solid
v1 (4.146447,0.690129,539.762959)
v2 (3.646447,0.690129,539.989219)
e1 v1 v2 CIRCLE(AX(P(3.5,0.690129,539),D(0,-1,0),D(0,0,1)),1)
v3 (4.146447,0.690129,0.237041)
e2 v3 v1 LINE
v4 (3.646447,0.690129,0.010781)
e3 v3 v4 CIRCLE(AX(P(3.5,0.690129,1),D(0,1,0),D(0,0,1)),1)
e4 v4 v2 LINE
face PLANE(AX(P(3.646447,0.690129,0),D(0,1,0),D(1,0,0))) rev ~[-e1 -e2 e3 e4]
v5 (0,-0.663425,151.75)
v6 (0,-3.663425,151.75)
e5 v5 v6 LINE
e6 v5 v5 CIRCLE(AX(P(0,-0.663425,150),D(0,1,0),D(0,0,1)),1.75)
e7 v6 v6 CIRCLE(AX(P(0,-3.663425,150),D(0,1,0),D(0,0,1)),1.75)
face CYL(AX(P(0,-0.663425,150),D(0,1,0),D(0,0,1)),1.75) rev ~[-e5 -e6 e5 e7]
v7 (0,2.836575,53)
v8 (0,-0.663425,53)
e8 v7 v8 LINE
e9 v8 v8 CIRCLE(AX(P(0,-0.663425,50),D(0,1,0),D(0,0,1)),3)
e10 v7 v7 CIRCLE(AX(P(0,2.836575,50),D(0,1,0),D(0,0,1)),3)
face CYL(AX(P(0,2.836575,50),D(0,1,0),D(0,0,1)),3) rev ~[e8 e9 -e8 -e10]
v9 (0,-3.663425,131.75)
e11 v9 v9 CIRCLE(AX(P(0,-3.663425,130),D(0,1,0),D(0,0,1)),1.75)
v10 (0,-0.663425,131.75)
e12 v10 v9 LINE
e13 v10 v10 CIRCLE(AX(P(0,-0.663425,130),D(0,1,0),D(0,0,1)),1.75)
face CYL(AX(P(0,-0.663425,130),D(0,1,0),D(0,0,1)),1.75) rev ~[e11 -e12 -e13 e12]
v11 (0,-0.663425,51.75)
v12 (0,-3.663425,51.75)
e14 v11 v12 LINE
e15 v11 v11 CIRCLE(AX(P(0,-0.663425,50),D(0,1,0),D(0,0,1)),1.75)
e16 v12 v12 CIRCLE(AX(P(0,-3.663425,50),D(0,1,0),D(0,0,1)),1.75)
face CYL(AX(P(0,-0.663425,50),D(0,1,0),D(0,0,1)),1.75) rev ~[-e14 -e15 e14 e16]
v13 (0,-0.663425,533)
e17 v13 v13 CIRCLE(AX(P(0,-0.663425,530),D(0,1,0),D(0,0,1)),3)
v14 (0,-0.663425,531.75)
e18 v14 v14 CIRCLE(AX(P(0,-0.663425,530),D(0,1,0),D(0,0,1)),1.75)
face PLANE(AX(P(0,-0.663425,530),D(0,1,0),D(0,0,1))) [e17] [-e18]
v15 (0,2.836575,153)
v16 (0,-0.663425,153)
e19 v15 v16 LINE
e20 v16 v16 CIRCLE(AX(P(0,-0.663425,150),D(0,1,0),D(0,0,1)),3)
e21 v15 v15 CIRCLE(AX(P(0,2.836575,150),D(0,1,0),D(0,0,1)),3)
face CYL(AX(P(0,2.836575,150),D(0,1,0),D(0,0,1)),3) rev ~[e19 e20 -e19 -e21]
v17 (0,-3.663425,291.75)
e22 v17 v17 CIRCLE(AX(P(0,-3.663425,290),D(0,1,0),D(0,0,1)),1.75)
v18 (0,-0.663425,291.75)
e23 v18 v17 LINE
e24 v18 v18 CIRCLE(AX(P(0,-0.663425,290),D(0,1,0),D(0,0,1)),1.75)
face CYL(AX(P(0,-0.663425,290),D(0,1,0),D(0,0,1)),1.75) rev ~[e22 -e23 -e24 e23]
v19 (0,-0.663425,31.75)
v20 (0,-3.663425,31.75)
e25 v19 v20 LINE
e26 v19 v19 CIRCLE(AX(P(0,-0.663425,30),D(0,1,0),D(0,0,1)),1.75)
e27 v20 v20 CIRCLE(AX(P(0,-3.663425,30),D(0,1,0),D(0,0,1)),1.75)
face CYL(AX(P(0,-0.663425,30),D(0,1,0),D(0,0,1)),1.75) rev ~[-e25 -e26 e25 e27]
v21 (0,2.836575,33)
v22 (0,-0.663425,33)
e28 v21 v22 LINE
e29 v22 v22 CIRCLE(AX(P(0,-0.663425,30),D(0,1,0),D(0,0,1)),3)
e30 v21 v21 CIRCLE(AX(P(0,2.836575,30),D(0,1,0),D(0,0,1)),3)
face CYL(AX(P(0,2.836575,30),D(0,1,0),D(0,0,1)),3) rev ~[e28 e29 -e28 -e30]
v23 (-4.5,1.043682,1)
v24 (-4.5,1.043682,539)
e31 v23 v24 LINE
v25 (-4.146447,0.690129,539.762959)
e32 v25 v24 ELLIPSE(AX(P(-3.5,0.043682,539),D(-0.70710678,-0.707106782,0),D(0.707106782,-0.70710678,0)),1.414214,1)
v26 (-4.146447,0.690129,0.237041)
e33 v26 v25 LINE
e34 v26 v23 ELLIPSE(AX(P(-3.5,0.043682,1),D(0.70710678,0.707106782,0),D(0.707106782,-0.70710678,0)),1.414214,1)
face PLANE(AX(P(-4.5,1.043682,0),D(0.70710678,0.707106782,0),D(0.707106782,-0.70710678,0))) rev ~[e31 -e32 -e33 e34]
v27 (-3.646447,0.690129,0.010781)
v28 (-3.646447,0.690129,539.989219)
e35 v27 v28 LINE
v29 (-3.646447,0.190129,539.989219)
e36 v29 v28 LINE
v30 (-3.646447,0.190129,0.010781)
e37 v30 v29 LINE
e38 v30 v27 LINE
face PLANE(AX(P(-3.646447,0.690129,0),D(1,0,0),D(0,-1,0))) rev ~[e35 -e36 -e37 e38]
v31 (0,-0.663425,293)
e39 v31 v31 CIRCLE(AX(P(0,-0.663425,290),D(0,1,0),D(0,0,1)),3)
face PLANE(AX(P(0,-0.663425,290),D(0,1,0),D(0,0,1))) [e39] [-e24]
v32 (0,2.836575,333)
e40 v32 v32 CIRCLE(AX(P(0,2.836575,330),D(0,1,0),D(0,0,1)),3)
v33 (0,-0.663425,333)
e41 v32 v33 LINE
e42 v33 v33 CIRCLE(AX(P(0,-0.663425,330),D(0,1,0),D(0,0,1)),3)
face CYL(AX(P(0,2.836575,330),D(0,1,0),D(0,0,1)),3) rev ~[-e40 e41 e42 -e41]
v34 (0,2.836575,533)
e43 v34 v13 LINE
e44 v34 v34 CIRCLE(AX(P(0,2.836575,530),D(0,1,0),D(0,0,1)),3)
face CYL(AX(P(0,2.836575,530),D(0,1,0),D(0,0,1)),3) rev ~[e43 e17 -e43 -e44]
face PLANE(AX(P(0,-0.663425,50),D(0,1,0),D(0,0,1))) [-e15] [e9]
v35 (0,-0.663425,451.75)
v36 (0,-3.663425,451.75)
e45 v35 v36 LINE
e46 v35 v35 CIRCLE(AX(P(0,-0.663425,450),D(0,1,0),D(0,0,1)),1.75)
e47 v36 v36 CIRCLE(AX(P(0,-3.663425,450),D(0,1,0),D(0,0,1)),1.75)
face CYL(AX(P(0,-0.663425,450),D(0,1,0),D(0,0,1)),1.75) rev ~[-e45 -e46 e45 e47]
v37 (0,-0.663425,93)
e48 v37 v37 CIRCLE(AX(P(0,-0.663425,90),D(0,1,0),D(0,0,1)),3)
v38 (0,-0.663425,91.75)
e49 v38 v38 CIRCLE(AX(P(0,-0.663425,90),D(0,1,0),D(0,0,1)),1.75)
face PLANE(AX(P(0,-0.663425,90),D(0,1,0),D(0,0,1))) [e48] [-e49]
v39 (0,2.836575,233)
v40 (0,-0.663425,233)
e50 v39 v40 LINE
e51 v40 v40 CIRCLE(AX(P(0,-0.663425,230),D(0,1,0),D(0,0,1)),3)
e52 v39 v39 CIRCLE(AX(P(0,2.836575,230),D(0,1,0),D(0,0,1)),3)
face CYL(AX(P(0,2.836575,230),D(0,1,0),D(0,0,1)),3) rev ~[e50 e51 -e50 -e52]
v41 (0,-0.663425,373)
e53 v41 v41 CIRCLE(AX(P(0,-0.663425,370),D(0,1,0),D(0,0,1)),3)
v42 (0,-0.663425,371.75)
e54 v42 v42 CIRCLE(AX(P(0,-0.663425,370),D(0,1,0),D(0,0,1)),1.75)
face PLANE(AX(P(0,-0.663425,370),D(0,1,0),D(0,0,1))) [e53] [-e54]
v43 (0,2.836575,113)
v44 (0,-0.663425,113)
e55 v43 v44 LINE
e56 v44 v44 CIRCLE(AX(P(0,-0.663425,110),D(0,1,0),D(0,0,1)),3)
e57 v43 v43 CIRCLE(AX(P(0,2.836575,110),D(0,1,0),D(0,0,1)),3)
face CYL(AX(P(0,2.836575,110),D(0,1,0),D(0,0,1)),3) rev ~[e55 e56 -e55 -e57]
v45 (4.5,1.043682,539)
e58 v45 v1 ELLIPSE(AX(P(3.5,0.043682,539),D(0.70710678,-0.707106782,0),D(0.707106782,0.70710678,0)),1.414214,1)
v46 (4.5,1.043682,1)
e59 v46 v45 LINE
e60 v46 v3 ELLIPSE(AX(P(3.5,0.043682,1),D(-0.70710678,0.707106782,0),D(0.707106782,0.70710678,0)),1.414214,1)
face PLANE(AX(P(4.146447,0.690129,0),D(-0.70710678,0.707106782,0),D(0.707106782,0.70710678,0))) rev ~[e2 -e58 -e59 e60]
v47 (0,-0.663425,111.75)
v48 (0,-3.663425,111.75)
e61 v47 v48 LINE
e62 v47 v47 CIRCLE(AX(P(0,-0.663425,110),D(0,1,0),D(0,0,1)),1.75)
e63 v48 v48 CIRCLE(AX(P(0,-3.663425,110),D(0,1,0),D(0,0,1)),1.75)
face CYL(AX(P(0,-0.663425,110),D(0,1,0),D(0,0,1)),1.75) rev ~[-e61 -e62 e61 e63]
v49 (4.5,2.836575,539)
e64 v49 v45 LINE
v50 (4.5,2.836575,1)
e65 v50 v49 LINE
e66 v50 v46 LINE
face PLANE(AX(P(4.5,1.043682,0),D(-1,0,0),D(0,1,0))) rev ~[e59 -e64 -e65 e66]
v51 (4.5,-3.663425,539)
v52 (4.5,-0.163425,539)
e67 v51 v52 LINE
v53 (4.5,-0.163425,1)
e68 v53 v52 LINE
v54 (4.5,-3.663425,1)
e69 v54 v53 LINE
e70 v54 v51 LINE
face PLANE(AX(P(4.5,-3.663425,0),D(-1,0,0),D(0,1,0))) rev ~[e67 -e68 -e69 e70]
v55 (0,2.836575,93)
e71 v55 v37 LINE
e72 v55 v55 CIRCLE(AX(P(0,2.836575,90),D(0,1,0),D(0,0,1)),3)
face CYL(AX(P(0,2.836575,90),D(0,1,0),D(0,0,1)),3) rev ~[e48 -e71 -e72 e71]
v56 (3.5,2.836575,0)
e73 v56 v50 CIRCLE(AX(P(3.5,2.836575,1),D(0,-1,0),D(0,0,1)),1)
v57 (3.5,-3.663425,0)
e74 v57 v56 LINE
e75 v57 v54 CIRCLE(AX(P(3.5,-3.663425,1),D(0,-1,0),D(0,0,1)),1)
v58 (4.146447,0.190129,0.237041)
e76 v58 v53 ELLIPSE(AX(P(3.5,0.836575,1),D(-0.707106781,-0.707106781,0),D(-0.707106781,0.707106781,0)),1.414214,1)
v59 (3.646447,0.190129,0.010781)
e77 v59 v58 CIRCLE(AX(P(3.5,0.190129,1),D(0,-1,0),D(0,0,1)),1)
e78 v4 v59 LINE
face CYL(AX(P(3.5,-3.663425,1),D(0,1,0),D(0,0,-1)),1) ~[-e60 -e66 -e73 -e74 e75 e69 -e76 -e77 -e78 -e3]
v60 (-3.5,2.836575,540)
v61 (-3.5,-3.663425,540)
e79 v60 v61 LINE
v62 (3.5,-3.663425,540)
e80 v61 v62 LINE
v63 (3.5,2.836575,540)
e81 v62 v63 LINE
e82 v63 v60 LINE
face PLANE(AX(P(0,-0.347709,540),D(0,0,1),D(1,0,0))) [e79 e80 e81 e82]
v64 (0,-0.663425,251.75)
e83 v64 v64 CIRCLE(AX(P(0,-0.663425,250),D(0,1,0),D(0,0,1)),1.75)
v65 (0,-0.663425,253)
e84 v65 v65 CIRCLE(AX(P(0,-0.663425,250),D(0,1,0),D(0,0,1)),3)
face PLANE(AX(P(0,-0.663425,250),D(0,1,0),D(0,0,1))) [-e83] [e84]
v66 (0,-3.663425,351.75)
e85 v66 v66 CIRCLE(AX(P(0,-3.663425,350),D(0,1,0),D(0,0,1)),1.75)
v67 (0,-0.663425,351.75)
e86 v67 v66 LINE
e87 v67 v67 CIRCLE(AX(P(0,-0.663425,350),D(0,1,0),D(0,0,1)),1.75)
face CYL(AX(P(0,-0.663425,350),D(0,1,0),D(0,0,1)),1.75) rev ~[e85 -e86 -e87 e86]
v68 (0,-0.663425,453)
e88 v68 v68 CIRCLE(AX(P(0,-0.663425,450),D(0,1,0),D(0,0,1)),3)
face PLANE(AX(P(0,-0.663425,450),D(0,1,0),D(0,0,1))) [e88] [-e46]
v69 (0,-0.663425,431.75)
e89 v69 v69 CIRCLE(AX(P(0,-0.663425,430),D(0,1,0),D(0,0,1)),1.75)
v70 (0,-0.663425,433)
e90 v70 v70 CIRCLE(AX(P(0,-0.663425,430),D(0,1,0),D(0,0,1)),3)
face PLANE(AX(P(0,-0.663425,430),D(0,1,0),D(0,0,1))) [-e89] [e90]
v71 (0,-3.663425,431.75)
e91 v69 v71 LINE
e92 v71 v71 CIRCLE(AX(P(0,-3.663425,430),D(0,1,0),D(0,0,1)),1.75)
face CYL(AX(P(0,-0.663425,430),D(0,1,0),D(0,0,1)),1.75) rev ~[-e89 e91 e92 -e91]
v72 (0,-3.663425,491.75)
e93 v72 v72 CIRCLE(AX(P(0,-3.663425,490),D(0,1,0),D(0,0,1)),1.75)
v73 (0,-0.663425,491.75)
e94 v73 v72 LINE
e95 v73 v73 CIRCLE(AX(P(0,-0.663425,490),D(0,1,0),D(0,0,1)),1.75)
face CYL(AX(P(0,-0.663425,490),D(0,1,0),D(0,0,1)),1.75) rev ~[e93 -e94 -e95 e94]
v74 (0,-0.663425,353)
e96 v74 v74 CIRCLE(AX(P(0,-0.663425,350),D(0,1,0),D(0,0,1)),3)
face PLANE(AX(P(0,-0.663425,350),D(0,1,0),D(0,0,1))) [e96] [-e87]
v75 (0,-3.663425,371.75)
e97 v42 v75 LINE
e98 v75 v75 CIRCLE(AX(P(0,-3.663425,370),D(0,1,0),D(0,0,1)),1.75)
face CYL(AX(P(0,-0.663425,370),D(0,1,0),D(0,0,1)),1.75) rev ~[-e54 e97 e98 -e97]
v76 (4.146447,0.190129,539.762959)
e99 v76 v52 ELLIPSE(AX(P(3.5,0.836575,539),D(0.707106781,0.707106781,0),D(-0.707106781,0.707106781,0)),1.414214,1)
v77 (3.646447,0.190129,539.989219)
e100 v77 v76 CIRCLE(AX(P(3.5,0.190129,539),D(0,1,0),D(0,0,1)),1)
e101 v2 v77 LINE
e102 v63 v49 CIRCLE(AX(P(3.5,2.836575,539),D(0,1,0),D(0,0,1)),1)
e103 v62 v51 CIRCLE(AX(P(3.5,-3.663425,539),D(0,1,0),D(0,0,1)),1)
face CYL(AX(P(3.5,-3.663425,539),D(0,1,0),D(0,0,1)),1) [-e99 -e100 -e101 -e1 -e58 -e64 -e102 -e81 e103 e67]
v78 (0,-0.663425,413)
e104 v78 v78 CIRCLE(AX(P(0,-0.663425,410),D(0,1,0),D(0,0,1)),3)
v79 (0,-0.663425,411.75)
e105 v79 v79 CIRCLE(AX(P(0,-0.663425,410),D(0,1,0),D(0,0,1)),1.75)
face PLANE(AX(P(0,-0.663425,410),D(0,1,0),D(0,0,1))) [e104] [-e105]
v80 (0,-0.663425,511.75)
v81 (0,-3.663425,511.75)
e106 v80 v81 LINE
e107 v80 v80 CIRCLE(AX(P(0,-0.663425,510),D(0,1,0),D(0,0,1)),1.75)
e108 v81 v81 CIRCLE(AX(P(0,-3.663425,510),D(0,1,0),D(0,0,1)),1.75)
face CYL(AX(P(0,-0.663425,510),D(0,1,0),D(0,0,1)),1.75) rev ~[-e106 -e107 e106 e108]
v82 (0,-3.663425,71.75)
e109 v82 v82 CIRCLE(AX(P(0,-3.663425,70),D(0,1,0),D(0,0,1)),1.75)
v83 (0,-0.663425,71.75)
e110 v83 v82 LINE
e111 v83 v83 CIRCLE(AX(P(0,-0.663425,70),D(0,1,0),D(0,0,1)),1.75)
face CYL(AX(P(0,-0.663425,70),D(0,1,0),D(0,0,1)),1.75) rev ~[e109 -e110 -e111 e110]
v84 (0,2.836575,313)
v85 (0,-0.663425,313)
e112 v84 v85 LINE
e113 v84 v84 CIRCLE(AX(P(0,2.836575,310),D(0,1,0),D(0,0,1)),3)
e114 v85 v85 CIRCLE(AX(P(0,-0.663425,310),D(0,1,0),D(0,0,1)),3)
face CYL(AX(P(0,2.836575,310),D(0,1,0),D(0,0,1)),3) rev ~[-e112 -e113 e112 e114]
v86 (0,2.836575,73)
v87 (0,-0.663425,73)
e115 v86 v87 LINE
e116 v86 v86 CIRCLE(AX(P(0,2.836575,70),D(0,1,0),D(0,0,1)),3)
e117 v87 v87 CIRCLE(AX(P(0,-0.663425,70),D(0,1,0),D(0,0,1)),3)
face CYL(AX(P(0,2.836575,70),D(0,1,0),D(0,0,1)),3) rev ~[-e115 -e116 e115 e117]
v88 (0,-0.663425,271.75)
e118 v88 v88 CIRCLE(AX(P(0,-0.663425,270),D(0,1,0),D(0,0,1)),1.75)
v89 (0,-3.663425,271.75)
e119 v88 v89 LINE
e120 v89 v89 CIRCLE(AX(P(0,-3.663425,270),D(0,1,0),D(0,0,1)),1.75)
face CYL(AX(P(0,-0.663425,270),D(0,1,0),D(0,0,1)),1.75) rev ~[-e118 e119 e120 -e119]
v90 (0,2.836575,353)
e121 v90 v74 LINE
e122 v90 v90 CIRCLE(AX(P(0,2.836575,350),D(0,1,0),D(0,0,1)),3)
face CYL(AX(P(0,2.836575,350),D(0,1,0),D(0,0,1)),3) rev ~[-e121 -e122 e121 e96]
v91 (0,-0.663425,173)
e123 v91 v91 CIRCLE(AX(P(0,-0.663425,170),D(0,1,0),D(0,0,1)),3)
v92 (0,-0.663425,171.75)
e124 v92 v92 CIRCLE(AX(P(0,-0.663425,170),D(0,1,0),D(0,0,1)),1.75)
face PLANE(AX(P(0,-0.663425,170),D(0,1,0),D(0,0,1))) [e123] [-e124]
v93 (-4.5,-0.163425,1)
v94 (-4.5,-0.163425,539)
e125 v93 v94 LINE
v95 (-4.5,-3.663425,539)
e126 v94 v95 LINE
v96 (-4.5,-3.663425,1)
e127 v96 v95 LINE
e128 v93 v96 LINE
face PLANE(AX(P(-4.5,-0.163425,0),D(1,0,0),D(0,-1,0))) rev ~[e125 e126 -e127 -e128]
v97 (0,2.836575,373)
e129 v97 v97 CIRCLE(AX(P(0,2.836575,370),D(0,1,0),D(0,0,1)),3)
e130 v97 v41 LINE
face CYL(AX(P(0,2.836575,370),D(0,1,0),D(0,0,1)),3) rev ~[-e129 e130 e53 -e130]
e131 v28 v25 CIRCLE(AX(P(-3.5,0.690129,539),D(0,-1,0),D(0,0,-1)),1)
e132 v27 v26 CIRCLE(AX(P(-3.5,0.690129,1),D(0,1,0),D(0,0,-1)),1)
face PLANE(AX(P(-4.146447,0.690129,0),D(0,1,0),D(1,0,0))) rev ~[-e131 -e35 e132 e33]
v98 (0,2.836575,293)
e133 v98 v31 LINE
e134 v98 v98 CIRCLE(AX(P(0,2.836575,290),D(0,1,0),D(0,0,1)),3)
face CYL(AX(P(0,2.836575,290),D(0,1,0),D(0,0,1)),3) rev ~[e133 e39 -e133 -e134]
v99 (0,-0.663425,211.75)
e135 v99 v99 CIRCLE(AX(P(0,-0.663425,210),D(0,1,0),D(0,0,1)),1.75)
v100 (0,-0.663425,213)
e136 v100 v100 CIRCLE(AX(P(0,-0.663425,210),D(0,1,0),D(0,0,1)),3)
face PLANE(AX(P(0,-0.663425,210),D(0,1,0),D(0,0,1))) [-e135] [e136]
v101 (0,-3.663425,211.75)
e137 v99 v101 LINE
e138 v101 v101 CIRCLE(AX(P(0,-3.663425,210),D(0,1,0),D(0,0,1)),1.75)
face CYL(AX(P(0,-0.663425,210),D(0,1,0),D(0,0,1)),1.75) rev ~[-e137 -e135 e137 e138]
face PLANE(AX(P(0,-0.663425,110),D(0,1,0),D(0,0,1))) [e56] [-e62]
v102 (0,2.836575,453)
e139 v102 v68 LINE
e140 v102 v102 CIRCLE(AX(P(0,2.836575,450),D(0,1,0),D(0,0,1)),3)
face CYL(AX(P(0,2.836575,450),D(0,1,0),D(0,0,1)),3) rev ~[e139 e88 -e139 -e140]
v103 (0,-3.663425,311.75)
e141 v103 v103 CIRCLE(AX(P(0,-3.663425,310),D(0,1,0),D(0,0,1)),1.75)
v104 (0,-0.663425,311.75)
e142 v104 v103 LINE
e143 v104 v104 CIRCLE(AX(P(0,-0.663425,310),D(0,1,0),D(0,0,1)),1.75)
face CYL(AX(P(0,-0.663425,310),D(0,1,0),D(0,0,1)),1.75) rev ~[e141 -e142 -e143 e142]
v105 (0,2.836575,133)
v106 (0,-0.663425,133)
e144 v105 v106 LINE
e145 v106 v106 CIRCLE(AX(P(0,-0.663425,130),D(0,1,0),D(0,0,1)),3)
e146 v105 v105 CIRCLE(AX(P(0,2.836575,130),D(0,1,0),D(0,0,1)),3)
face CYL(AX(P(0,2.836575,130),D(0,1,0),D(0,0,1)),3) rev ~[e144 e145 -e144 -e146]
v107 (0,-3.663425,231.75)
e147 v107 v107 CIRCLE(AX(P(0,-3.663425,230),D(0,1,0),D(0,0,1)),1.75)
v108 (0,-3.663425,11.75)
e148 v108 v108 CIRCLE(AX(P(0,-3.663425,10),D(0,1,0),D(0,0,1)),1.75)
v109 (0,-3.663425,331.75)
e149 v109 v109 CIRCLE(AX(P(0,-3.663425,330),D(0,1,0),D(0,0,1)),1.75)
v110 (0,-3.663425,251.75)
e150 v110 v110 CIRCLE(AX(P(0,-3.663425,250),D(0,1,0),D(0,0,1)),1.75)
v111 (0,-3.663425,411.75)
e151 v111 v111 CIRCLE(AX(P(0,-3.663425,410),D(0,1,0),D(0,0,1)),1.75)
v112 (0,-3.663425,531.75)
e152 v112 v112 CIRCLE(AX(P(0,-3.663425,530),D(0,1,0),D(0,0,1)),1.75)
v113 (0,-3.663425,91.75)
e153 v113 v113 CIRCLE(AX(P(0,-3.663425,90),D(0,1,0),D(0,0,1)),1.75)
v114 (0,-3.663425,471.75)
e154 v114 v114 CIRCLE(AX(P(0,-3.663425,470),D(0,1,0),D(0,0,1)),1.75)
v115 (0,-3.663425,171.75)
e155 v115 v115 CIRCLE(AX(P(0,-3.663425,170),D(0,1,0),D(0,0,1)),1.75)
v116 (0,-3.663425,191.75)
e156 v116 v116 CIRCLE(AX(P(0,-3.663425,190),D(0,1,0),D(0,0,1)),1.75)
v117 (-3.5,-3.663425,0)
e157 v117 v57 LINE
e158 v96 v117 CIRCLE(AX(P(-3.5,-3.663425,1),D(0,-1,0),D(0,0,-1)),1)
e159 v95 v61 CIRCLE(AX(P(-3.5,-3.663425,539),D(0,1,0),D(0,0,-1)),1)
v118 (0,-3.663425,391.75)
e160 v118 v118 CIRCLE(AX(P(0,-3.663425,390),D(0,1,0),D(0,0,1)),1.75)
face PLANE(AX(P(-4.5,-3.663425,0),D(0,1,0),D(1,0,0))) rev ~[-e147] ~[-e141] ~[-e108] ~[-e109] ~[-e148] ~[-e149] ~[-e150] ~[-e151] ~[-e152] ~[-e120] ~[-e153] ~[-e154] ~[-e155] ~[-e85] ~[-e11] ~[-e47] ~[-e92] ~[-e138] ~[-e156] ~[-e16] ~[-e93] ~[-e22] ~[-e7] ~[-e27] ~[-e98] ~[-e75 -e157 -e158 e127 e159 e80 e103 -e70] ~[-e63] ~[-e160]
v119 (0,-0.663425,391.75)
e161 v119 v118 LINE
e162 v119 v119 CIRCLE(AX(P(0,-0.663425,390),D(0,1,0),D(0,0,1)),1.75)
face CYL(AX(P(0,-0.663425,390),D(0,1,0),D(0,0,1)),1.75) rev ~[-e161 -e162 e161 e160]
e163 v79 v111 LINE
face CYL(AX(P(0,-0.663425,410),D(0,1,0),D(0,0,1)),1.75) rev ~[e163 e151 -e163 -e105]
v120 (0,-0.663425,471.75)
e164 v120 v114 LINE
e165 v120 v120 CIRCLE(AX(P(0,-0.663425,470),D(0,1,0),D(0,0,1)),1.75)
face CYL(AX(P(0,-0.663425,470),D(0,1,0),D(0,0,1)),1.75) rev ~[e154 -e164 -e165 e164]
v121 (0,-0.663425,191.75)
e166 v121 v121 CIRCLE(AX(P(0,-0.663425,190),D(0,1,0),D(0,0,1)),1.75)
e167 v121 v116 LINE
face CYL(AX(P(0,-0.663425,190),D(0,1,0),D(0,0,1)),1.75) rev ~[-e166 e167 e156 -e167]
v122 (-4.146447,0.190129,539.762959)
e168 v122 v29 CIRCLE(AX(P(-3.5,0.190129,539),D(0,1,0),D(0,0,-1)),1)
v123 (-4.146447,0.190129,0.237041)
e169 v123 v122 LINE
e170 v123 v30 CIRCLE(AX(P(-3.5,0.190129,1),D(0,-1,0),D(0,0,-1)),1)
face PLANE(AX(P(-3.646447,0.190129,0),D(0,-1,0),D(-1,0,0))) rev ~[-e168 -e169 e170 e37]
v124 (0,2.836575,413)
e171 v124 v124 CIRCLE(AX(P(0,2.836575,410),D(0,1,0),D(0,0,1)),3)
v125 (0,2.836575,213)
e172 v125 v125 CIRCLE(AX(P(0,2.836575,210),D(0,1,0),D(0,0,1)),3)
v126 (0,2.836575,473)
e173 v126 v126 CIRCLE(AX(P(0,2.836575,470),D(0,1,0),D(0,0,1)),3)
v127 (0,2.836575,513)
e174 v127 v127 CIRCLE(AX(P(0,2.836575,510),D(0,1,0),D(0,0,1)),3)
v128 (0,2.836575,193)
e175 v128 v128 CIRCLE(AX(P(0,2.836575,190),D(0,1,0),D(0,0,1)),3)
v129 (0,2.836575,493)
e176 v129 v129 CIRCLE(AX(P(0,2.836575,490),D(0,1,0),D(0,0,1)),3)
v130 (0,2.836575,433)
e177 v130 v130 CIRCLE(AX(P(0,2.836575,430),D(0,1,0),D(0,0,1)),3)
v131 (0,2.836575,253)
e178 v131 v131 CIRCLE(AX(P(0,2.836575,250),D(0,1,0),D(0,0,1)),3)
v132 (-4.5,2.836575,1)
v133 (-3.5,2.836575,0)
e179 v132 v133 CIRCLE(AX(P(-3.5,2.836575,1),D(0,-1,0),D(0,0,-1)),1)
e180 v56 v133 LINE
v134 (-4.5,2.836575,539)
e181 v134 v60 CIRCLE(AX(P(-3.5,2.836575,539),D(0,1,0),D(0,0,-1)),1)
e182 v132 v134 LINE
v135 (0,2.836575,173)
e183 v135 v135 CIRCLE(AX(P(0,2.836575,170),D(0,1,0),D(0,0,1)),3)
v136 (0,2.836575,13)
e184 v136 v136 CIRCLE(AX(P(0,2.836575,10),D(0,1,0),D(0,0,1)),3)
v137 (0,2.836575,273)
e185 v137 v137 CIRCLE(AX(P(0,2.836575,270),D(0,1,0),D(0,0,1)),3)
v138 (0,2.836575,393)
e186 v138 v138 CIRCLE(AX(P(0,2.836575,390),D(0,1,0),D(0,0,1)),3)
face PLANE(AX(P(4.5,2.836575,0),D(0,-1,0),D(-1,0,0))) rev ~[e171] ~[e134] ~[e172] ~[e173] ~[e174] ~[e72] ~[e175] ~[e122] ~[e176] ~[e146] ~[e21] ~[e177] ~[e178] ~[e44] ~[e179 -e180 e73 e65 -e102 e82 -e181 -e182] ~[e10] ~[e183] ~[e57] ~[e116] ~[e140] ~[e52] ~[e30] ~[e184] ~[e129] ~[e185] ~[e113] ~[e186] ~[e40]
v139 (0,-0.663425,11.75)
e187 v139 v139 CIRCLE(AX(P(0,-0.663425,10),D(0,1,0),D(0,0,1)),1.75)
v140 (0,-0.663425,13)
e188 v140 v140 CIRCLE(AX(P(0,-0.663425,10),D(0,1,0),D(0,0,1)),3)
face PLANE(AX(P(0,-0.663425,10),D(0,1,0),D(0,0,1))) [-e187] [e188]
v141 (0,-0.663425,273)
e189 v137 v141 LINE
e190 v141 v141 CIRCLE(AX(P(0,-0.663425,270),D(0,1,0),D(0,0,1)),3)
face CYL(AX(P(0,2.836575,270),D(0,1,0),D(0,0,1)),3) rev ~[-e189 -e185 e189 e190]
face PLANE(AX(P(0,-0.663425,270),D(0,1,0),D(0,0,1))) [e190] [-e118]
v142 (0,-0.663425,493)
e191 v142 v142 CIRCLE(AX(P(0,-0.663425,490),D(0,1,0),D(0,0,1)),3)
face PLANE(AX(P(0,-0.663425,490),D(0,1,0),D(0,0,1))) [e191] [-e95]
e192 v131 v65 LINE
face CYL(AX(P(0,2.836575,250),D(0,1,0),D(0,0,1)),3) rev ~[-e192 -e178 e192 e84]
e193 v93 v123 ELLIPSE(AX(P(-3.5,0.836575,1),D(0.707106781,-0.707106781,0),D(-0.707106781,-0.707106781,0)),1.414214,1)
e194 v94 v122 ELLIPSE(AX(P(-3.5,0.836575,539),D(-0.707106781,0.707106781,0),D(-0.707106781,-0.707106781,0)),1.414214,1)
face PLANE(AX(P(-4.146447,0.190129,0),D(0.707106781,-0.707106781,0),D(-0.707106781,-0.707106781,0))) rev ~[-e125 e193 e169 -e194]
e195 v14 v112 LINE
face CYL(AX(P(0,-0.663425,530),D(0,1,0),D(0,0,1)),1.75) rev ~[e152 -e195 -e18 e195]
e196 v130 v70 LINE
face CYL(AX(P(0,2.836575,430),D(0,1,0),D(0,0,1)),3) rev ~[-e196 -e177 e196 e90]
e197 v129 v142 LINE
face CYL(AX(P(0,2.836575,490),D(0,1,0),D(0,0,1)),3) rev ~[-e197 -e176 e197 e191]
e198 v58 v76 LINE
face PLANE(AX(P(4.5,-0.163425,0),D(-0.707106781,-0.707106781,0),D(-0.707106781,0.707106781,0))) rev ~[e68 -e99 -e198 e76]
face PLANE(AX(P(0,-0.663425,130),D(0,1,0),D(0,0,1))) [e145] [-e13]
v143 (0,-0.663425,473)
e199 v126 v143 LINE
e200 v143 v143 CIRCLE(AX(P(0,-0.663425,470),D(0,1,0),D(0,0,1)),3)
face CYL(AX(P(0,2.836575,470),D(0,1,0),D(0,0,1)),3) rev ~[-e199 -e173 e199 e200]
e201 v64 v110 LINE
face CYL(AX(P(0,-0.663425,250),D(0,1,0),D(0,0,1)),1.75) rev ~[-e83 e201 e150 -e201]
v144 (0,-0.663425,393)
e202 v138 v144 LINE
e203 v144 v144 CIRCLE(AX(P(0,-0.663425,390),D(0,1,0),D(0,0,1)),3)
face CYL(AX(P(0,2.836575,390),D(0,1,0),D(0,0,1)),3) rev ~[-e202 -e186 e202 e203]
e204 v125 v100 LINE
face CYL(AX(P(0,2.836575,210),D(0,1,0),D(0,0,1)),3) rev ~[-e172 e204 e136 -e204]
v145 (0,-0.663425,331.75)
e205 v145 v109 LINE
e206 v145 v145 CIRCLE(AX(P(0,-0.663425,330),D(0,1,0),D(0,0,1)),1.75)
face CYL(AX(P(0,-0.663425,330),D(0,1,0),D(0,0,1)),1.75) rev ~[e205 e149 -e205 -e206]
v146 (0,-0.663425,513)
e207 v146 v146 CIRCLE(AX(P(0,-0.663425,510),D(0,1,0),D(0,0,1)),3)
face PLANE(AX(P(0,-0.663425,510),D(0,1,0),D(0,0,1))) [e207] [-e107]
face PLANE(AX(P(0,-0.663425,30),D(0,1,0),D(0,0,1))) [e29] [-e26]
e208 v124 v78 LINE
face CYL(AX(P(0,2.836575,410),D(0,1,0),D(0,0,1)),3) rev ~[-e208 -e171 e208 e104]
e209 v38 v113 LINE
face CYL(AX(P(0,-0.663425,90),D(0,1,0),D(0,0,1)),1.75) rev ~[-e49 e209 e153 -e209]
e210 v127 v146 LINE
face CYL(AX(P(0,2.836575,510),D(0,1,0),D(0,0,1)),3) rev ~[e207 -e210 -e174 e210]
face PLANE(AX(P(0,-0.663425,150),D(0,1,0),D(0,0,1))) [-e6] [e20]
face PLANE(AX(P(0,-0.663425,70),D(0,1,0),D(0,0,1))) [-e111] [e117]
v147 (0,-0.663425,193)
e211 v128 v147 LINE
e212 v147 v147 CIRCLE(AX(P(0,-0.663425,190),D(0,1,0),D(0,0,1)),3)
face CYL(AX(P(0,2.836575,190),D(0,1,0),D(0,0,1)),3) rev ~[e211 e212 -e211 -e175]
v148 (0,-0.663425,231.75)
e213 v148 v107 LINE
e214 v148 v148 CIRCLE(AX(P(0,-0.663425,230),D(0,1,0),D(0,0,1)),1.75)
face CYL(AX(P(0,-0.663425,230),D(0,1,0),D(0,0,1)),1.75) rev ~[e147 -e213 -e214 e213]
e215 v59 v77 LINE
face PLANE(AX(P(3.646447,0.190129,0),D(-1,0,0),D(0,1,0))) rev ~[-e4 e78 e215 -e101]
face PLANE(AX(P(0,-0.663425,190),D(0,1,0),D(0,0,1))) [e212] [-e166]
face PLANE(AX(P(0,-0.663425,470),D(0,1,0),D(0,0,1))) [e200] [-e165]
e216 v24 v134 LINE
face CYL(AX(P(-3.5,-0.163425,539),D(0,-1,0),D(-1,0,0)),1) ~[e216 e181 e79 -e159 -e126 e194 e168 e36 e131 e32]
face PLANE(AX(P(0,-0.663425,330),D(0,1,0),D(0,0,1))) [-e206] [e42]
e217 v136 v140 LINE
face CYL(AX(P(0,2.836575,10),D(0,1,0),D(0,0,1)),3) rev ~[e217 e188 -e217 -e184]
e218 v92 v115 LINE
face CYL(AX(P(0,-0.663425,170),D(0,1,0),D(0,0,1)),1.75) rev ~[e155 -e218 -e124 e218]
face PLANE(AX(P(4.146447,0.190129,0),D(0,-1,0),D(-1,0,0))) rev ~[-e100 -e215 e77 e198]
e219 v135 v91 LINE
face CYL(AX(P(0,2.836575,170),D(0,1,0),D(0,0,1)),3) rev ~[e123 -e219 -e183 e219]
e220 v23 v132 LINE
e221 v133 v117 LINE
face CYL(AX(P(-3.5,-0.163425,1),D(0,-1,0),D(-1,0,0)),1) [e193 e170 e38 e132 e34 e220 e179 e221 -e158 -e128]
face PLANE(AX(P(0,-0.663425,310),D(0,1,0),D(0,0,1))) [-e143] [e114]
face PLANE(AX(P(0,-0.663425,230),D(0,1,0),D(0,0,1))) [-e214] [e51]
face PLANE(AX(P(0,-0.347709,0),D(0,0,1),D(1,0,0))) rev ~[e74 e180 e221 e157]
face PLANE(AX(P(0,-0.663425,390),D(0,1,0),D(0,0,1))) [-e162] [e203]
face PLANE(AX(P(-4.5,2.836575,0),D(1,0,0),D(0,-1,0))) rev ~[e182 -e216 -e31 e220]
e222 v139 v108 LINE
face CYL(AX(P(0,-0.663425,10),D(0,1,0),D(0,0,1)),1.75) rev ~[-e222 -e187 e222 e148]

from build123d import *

# Parameters (mm, degrees)
EXTRUDE_1_DEPTH        = 540
SKETCH_2_R             = 3
CUT_EXTRUDE_1_DEPTH    = 3.5
SKETCH_3_R             = 1.75
CUT_EXTRUDE_2_DEPTH    = 541.030091754
PATTERN_LINEAR_1_COUNT = 30
PATTERN_LINEAR_1_PITCH = 20
FILLET_1_R             = 1


with BuildPart() as part:
    # 草图1 → 凸台-拉伸1 (new body)
    with BuildSketch(Plane.XY):
        Polygon((-4.5, -3.663424778), (4.5, -3.663424778), (4.5, -0.163424778), (4.146446609, 0.190128613), (3.646446609, 0.190128613), (3.646446609, 0.690128613), (4.146446609, 0.690128613), (4.5, 1.043682003), (4.5, 2.836575222), (-4.5, 2.836575222), (-4.5, 1.043682003), (-4.146446609, 0.690128613), (-3.646446609, 0.690128613), (-3.646446609, 0.190128613), (-4.146446609, 0.190128613), (-4.5, -0.163424778), align=None)
    extrude(amount=EXTRUDE_1_DEPTH)

    # 草图2 → 切除-拉伸1 (cut)
    with BuildSketch(Plane(origin=(0, 2.836575222, 0), x_dir=(1, 0, 0), z_dir=(0, 1, 0))):
        with Locations(Location((0, -530, 0), (0, 0, 270))):
            Circle(SKETCH_2_R)
    cut_extrude_1 = extrude(amount=-CUT_EXTRUDE_1_DEPTH, mode=Mode.SUBTRACT)

    # 草图3 → 切除-拉伸2 (cut, through all)
    with BuildSketch(Plane(origin=(0, -0.663424778, 0), x_dir=(1, 0, 0), z_dir=(0, 1, 0))):
        with Locations(Location((0, -530, 0), (0, 0, 270))):
            Circle(SKETCH_3_R)
    cut_extrude_2 = extrude(amount=-CUT_EXTRUDE_2_DEPTH, mode=Mode.SUBTRACT)

    # 阵列(线性)1: 切除-拉伸1, 切除-拉伸2 ×30
    with Locations(*[(0, 0, -i * PATTERN_LINEAR_1_PITCH) for i in range(1, PATTERN_LINEAR_1_COUNT)]):
        add(cut_extrude_1, mode=Mode.SUBTRACT)
        add(cut_extrude_2, mode=Mode.SUBTRACT)

    # 圆角1
    fillet_1_edges = [part.edges().sort_by_distance(p)[0] for p in [
        (4.5, -1.913424778, 0),
        (-4.5, -1.913424778, 0),
        (4.5, -1.913424778, 540),
        (-4.5, -1.913424778, 540),
    ]]
    fillet(fillet_1_edges, radius=FILLET_1_R)


solid = part.part
